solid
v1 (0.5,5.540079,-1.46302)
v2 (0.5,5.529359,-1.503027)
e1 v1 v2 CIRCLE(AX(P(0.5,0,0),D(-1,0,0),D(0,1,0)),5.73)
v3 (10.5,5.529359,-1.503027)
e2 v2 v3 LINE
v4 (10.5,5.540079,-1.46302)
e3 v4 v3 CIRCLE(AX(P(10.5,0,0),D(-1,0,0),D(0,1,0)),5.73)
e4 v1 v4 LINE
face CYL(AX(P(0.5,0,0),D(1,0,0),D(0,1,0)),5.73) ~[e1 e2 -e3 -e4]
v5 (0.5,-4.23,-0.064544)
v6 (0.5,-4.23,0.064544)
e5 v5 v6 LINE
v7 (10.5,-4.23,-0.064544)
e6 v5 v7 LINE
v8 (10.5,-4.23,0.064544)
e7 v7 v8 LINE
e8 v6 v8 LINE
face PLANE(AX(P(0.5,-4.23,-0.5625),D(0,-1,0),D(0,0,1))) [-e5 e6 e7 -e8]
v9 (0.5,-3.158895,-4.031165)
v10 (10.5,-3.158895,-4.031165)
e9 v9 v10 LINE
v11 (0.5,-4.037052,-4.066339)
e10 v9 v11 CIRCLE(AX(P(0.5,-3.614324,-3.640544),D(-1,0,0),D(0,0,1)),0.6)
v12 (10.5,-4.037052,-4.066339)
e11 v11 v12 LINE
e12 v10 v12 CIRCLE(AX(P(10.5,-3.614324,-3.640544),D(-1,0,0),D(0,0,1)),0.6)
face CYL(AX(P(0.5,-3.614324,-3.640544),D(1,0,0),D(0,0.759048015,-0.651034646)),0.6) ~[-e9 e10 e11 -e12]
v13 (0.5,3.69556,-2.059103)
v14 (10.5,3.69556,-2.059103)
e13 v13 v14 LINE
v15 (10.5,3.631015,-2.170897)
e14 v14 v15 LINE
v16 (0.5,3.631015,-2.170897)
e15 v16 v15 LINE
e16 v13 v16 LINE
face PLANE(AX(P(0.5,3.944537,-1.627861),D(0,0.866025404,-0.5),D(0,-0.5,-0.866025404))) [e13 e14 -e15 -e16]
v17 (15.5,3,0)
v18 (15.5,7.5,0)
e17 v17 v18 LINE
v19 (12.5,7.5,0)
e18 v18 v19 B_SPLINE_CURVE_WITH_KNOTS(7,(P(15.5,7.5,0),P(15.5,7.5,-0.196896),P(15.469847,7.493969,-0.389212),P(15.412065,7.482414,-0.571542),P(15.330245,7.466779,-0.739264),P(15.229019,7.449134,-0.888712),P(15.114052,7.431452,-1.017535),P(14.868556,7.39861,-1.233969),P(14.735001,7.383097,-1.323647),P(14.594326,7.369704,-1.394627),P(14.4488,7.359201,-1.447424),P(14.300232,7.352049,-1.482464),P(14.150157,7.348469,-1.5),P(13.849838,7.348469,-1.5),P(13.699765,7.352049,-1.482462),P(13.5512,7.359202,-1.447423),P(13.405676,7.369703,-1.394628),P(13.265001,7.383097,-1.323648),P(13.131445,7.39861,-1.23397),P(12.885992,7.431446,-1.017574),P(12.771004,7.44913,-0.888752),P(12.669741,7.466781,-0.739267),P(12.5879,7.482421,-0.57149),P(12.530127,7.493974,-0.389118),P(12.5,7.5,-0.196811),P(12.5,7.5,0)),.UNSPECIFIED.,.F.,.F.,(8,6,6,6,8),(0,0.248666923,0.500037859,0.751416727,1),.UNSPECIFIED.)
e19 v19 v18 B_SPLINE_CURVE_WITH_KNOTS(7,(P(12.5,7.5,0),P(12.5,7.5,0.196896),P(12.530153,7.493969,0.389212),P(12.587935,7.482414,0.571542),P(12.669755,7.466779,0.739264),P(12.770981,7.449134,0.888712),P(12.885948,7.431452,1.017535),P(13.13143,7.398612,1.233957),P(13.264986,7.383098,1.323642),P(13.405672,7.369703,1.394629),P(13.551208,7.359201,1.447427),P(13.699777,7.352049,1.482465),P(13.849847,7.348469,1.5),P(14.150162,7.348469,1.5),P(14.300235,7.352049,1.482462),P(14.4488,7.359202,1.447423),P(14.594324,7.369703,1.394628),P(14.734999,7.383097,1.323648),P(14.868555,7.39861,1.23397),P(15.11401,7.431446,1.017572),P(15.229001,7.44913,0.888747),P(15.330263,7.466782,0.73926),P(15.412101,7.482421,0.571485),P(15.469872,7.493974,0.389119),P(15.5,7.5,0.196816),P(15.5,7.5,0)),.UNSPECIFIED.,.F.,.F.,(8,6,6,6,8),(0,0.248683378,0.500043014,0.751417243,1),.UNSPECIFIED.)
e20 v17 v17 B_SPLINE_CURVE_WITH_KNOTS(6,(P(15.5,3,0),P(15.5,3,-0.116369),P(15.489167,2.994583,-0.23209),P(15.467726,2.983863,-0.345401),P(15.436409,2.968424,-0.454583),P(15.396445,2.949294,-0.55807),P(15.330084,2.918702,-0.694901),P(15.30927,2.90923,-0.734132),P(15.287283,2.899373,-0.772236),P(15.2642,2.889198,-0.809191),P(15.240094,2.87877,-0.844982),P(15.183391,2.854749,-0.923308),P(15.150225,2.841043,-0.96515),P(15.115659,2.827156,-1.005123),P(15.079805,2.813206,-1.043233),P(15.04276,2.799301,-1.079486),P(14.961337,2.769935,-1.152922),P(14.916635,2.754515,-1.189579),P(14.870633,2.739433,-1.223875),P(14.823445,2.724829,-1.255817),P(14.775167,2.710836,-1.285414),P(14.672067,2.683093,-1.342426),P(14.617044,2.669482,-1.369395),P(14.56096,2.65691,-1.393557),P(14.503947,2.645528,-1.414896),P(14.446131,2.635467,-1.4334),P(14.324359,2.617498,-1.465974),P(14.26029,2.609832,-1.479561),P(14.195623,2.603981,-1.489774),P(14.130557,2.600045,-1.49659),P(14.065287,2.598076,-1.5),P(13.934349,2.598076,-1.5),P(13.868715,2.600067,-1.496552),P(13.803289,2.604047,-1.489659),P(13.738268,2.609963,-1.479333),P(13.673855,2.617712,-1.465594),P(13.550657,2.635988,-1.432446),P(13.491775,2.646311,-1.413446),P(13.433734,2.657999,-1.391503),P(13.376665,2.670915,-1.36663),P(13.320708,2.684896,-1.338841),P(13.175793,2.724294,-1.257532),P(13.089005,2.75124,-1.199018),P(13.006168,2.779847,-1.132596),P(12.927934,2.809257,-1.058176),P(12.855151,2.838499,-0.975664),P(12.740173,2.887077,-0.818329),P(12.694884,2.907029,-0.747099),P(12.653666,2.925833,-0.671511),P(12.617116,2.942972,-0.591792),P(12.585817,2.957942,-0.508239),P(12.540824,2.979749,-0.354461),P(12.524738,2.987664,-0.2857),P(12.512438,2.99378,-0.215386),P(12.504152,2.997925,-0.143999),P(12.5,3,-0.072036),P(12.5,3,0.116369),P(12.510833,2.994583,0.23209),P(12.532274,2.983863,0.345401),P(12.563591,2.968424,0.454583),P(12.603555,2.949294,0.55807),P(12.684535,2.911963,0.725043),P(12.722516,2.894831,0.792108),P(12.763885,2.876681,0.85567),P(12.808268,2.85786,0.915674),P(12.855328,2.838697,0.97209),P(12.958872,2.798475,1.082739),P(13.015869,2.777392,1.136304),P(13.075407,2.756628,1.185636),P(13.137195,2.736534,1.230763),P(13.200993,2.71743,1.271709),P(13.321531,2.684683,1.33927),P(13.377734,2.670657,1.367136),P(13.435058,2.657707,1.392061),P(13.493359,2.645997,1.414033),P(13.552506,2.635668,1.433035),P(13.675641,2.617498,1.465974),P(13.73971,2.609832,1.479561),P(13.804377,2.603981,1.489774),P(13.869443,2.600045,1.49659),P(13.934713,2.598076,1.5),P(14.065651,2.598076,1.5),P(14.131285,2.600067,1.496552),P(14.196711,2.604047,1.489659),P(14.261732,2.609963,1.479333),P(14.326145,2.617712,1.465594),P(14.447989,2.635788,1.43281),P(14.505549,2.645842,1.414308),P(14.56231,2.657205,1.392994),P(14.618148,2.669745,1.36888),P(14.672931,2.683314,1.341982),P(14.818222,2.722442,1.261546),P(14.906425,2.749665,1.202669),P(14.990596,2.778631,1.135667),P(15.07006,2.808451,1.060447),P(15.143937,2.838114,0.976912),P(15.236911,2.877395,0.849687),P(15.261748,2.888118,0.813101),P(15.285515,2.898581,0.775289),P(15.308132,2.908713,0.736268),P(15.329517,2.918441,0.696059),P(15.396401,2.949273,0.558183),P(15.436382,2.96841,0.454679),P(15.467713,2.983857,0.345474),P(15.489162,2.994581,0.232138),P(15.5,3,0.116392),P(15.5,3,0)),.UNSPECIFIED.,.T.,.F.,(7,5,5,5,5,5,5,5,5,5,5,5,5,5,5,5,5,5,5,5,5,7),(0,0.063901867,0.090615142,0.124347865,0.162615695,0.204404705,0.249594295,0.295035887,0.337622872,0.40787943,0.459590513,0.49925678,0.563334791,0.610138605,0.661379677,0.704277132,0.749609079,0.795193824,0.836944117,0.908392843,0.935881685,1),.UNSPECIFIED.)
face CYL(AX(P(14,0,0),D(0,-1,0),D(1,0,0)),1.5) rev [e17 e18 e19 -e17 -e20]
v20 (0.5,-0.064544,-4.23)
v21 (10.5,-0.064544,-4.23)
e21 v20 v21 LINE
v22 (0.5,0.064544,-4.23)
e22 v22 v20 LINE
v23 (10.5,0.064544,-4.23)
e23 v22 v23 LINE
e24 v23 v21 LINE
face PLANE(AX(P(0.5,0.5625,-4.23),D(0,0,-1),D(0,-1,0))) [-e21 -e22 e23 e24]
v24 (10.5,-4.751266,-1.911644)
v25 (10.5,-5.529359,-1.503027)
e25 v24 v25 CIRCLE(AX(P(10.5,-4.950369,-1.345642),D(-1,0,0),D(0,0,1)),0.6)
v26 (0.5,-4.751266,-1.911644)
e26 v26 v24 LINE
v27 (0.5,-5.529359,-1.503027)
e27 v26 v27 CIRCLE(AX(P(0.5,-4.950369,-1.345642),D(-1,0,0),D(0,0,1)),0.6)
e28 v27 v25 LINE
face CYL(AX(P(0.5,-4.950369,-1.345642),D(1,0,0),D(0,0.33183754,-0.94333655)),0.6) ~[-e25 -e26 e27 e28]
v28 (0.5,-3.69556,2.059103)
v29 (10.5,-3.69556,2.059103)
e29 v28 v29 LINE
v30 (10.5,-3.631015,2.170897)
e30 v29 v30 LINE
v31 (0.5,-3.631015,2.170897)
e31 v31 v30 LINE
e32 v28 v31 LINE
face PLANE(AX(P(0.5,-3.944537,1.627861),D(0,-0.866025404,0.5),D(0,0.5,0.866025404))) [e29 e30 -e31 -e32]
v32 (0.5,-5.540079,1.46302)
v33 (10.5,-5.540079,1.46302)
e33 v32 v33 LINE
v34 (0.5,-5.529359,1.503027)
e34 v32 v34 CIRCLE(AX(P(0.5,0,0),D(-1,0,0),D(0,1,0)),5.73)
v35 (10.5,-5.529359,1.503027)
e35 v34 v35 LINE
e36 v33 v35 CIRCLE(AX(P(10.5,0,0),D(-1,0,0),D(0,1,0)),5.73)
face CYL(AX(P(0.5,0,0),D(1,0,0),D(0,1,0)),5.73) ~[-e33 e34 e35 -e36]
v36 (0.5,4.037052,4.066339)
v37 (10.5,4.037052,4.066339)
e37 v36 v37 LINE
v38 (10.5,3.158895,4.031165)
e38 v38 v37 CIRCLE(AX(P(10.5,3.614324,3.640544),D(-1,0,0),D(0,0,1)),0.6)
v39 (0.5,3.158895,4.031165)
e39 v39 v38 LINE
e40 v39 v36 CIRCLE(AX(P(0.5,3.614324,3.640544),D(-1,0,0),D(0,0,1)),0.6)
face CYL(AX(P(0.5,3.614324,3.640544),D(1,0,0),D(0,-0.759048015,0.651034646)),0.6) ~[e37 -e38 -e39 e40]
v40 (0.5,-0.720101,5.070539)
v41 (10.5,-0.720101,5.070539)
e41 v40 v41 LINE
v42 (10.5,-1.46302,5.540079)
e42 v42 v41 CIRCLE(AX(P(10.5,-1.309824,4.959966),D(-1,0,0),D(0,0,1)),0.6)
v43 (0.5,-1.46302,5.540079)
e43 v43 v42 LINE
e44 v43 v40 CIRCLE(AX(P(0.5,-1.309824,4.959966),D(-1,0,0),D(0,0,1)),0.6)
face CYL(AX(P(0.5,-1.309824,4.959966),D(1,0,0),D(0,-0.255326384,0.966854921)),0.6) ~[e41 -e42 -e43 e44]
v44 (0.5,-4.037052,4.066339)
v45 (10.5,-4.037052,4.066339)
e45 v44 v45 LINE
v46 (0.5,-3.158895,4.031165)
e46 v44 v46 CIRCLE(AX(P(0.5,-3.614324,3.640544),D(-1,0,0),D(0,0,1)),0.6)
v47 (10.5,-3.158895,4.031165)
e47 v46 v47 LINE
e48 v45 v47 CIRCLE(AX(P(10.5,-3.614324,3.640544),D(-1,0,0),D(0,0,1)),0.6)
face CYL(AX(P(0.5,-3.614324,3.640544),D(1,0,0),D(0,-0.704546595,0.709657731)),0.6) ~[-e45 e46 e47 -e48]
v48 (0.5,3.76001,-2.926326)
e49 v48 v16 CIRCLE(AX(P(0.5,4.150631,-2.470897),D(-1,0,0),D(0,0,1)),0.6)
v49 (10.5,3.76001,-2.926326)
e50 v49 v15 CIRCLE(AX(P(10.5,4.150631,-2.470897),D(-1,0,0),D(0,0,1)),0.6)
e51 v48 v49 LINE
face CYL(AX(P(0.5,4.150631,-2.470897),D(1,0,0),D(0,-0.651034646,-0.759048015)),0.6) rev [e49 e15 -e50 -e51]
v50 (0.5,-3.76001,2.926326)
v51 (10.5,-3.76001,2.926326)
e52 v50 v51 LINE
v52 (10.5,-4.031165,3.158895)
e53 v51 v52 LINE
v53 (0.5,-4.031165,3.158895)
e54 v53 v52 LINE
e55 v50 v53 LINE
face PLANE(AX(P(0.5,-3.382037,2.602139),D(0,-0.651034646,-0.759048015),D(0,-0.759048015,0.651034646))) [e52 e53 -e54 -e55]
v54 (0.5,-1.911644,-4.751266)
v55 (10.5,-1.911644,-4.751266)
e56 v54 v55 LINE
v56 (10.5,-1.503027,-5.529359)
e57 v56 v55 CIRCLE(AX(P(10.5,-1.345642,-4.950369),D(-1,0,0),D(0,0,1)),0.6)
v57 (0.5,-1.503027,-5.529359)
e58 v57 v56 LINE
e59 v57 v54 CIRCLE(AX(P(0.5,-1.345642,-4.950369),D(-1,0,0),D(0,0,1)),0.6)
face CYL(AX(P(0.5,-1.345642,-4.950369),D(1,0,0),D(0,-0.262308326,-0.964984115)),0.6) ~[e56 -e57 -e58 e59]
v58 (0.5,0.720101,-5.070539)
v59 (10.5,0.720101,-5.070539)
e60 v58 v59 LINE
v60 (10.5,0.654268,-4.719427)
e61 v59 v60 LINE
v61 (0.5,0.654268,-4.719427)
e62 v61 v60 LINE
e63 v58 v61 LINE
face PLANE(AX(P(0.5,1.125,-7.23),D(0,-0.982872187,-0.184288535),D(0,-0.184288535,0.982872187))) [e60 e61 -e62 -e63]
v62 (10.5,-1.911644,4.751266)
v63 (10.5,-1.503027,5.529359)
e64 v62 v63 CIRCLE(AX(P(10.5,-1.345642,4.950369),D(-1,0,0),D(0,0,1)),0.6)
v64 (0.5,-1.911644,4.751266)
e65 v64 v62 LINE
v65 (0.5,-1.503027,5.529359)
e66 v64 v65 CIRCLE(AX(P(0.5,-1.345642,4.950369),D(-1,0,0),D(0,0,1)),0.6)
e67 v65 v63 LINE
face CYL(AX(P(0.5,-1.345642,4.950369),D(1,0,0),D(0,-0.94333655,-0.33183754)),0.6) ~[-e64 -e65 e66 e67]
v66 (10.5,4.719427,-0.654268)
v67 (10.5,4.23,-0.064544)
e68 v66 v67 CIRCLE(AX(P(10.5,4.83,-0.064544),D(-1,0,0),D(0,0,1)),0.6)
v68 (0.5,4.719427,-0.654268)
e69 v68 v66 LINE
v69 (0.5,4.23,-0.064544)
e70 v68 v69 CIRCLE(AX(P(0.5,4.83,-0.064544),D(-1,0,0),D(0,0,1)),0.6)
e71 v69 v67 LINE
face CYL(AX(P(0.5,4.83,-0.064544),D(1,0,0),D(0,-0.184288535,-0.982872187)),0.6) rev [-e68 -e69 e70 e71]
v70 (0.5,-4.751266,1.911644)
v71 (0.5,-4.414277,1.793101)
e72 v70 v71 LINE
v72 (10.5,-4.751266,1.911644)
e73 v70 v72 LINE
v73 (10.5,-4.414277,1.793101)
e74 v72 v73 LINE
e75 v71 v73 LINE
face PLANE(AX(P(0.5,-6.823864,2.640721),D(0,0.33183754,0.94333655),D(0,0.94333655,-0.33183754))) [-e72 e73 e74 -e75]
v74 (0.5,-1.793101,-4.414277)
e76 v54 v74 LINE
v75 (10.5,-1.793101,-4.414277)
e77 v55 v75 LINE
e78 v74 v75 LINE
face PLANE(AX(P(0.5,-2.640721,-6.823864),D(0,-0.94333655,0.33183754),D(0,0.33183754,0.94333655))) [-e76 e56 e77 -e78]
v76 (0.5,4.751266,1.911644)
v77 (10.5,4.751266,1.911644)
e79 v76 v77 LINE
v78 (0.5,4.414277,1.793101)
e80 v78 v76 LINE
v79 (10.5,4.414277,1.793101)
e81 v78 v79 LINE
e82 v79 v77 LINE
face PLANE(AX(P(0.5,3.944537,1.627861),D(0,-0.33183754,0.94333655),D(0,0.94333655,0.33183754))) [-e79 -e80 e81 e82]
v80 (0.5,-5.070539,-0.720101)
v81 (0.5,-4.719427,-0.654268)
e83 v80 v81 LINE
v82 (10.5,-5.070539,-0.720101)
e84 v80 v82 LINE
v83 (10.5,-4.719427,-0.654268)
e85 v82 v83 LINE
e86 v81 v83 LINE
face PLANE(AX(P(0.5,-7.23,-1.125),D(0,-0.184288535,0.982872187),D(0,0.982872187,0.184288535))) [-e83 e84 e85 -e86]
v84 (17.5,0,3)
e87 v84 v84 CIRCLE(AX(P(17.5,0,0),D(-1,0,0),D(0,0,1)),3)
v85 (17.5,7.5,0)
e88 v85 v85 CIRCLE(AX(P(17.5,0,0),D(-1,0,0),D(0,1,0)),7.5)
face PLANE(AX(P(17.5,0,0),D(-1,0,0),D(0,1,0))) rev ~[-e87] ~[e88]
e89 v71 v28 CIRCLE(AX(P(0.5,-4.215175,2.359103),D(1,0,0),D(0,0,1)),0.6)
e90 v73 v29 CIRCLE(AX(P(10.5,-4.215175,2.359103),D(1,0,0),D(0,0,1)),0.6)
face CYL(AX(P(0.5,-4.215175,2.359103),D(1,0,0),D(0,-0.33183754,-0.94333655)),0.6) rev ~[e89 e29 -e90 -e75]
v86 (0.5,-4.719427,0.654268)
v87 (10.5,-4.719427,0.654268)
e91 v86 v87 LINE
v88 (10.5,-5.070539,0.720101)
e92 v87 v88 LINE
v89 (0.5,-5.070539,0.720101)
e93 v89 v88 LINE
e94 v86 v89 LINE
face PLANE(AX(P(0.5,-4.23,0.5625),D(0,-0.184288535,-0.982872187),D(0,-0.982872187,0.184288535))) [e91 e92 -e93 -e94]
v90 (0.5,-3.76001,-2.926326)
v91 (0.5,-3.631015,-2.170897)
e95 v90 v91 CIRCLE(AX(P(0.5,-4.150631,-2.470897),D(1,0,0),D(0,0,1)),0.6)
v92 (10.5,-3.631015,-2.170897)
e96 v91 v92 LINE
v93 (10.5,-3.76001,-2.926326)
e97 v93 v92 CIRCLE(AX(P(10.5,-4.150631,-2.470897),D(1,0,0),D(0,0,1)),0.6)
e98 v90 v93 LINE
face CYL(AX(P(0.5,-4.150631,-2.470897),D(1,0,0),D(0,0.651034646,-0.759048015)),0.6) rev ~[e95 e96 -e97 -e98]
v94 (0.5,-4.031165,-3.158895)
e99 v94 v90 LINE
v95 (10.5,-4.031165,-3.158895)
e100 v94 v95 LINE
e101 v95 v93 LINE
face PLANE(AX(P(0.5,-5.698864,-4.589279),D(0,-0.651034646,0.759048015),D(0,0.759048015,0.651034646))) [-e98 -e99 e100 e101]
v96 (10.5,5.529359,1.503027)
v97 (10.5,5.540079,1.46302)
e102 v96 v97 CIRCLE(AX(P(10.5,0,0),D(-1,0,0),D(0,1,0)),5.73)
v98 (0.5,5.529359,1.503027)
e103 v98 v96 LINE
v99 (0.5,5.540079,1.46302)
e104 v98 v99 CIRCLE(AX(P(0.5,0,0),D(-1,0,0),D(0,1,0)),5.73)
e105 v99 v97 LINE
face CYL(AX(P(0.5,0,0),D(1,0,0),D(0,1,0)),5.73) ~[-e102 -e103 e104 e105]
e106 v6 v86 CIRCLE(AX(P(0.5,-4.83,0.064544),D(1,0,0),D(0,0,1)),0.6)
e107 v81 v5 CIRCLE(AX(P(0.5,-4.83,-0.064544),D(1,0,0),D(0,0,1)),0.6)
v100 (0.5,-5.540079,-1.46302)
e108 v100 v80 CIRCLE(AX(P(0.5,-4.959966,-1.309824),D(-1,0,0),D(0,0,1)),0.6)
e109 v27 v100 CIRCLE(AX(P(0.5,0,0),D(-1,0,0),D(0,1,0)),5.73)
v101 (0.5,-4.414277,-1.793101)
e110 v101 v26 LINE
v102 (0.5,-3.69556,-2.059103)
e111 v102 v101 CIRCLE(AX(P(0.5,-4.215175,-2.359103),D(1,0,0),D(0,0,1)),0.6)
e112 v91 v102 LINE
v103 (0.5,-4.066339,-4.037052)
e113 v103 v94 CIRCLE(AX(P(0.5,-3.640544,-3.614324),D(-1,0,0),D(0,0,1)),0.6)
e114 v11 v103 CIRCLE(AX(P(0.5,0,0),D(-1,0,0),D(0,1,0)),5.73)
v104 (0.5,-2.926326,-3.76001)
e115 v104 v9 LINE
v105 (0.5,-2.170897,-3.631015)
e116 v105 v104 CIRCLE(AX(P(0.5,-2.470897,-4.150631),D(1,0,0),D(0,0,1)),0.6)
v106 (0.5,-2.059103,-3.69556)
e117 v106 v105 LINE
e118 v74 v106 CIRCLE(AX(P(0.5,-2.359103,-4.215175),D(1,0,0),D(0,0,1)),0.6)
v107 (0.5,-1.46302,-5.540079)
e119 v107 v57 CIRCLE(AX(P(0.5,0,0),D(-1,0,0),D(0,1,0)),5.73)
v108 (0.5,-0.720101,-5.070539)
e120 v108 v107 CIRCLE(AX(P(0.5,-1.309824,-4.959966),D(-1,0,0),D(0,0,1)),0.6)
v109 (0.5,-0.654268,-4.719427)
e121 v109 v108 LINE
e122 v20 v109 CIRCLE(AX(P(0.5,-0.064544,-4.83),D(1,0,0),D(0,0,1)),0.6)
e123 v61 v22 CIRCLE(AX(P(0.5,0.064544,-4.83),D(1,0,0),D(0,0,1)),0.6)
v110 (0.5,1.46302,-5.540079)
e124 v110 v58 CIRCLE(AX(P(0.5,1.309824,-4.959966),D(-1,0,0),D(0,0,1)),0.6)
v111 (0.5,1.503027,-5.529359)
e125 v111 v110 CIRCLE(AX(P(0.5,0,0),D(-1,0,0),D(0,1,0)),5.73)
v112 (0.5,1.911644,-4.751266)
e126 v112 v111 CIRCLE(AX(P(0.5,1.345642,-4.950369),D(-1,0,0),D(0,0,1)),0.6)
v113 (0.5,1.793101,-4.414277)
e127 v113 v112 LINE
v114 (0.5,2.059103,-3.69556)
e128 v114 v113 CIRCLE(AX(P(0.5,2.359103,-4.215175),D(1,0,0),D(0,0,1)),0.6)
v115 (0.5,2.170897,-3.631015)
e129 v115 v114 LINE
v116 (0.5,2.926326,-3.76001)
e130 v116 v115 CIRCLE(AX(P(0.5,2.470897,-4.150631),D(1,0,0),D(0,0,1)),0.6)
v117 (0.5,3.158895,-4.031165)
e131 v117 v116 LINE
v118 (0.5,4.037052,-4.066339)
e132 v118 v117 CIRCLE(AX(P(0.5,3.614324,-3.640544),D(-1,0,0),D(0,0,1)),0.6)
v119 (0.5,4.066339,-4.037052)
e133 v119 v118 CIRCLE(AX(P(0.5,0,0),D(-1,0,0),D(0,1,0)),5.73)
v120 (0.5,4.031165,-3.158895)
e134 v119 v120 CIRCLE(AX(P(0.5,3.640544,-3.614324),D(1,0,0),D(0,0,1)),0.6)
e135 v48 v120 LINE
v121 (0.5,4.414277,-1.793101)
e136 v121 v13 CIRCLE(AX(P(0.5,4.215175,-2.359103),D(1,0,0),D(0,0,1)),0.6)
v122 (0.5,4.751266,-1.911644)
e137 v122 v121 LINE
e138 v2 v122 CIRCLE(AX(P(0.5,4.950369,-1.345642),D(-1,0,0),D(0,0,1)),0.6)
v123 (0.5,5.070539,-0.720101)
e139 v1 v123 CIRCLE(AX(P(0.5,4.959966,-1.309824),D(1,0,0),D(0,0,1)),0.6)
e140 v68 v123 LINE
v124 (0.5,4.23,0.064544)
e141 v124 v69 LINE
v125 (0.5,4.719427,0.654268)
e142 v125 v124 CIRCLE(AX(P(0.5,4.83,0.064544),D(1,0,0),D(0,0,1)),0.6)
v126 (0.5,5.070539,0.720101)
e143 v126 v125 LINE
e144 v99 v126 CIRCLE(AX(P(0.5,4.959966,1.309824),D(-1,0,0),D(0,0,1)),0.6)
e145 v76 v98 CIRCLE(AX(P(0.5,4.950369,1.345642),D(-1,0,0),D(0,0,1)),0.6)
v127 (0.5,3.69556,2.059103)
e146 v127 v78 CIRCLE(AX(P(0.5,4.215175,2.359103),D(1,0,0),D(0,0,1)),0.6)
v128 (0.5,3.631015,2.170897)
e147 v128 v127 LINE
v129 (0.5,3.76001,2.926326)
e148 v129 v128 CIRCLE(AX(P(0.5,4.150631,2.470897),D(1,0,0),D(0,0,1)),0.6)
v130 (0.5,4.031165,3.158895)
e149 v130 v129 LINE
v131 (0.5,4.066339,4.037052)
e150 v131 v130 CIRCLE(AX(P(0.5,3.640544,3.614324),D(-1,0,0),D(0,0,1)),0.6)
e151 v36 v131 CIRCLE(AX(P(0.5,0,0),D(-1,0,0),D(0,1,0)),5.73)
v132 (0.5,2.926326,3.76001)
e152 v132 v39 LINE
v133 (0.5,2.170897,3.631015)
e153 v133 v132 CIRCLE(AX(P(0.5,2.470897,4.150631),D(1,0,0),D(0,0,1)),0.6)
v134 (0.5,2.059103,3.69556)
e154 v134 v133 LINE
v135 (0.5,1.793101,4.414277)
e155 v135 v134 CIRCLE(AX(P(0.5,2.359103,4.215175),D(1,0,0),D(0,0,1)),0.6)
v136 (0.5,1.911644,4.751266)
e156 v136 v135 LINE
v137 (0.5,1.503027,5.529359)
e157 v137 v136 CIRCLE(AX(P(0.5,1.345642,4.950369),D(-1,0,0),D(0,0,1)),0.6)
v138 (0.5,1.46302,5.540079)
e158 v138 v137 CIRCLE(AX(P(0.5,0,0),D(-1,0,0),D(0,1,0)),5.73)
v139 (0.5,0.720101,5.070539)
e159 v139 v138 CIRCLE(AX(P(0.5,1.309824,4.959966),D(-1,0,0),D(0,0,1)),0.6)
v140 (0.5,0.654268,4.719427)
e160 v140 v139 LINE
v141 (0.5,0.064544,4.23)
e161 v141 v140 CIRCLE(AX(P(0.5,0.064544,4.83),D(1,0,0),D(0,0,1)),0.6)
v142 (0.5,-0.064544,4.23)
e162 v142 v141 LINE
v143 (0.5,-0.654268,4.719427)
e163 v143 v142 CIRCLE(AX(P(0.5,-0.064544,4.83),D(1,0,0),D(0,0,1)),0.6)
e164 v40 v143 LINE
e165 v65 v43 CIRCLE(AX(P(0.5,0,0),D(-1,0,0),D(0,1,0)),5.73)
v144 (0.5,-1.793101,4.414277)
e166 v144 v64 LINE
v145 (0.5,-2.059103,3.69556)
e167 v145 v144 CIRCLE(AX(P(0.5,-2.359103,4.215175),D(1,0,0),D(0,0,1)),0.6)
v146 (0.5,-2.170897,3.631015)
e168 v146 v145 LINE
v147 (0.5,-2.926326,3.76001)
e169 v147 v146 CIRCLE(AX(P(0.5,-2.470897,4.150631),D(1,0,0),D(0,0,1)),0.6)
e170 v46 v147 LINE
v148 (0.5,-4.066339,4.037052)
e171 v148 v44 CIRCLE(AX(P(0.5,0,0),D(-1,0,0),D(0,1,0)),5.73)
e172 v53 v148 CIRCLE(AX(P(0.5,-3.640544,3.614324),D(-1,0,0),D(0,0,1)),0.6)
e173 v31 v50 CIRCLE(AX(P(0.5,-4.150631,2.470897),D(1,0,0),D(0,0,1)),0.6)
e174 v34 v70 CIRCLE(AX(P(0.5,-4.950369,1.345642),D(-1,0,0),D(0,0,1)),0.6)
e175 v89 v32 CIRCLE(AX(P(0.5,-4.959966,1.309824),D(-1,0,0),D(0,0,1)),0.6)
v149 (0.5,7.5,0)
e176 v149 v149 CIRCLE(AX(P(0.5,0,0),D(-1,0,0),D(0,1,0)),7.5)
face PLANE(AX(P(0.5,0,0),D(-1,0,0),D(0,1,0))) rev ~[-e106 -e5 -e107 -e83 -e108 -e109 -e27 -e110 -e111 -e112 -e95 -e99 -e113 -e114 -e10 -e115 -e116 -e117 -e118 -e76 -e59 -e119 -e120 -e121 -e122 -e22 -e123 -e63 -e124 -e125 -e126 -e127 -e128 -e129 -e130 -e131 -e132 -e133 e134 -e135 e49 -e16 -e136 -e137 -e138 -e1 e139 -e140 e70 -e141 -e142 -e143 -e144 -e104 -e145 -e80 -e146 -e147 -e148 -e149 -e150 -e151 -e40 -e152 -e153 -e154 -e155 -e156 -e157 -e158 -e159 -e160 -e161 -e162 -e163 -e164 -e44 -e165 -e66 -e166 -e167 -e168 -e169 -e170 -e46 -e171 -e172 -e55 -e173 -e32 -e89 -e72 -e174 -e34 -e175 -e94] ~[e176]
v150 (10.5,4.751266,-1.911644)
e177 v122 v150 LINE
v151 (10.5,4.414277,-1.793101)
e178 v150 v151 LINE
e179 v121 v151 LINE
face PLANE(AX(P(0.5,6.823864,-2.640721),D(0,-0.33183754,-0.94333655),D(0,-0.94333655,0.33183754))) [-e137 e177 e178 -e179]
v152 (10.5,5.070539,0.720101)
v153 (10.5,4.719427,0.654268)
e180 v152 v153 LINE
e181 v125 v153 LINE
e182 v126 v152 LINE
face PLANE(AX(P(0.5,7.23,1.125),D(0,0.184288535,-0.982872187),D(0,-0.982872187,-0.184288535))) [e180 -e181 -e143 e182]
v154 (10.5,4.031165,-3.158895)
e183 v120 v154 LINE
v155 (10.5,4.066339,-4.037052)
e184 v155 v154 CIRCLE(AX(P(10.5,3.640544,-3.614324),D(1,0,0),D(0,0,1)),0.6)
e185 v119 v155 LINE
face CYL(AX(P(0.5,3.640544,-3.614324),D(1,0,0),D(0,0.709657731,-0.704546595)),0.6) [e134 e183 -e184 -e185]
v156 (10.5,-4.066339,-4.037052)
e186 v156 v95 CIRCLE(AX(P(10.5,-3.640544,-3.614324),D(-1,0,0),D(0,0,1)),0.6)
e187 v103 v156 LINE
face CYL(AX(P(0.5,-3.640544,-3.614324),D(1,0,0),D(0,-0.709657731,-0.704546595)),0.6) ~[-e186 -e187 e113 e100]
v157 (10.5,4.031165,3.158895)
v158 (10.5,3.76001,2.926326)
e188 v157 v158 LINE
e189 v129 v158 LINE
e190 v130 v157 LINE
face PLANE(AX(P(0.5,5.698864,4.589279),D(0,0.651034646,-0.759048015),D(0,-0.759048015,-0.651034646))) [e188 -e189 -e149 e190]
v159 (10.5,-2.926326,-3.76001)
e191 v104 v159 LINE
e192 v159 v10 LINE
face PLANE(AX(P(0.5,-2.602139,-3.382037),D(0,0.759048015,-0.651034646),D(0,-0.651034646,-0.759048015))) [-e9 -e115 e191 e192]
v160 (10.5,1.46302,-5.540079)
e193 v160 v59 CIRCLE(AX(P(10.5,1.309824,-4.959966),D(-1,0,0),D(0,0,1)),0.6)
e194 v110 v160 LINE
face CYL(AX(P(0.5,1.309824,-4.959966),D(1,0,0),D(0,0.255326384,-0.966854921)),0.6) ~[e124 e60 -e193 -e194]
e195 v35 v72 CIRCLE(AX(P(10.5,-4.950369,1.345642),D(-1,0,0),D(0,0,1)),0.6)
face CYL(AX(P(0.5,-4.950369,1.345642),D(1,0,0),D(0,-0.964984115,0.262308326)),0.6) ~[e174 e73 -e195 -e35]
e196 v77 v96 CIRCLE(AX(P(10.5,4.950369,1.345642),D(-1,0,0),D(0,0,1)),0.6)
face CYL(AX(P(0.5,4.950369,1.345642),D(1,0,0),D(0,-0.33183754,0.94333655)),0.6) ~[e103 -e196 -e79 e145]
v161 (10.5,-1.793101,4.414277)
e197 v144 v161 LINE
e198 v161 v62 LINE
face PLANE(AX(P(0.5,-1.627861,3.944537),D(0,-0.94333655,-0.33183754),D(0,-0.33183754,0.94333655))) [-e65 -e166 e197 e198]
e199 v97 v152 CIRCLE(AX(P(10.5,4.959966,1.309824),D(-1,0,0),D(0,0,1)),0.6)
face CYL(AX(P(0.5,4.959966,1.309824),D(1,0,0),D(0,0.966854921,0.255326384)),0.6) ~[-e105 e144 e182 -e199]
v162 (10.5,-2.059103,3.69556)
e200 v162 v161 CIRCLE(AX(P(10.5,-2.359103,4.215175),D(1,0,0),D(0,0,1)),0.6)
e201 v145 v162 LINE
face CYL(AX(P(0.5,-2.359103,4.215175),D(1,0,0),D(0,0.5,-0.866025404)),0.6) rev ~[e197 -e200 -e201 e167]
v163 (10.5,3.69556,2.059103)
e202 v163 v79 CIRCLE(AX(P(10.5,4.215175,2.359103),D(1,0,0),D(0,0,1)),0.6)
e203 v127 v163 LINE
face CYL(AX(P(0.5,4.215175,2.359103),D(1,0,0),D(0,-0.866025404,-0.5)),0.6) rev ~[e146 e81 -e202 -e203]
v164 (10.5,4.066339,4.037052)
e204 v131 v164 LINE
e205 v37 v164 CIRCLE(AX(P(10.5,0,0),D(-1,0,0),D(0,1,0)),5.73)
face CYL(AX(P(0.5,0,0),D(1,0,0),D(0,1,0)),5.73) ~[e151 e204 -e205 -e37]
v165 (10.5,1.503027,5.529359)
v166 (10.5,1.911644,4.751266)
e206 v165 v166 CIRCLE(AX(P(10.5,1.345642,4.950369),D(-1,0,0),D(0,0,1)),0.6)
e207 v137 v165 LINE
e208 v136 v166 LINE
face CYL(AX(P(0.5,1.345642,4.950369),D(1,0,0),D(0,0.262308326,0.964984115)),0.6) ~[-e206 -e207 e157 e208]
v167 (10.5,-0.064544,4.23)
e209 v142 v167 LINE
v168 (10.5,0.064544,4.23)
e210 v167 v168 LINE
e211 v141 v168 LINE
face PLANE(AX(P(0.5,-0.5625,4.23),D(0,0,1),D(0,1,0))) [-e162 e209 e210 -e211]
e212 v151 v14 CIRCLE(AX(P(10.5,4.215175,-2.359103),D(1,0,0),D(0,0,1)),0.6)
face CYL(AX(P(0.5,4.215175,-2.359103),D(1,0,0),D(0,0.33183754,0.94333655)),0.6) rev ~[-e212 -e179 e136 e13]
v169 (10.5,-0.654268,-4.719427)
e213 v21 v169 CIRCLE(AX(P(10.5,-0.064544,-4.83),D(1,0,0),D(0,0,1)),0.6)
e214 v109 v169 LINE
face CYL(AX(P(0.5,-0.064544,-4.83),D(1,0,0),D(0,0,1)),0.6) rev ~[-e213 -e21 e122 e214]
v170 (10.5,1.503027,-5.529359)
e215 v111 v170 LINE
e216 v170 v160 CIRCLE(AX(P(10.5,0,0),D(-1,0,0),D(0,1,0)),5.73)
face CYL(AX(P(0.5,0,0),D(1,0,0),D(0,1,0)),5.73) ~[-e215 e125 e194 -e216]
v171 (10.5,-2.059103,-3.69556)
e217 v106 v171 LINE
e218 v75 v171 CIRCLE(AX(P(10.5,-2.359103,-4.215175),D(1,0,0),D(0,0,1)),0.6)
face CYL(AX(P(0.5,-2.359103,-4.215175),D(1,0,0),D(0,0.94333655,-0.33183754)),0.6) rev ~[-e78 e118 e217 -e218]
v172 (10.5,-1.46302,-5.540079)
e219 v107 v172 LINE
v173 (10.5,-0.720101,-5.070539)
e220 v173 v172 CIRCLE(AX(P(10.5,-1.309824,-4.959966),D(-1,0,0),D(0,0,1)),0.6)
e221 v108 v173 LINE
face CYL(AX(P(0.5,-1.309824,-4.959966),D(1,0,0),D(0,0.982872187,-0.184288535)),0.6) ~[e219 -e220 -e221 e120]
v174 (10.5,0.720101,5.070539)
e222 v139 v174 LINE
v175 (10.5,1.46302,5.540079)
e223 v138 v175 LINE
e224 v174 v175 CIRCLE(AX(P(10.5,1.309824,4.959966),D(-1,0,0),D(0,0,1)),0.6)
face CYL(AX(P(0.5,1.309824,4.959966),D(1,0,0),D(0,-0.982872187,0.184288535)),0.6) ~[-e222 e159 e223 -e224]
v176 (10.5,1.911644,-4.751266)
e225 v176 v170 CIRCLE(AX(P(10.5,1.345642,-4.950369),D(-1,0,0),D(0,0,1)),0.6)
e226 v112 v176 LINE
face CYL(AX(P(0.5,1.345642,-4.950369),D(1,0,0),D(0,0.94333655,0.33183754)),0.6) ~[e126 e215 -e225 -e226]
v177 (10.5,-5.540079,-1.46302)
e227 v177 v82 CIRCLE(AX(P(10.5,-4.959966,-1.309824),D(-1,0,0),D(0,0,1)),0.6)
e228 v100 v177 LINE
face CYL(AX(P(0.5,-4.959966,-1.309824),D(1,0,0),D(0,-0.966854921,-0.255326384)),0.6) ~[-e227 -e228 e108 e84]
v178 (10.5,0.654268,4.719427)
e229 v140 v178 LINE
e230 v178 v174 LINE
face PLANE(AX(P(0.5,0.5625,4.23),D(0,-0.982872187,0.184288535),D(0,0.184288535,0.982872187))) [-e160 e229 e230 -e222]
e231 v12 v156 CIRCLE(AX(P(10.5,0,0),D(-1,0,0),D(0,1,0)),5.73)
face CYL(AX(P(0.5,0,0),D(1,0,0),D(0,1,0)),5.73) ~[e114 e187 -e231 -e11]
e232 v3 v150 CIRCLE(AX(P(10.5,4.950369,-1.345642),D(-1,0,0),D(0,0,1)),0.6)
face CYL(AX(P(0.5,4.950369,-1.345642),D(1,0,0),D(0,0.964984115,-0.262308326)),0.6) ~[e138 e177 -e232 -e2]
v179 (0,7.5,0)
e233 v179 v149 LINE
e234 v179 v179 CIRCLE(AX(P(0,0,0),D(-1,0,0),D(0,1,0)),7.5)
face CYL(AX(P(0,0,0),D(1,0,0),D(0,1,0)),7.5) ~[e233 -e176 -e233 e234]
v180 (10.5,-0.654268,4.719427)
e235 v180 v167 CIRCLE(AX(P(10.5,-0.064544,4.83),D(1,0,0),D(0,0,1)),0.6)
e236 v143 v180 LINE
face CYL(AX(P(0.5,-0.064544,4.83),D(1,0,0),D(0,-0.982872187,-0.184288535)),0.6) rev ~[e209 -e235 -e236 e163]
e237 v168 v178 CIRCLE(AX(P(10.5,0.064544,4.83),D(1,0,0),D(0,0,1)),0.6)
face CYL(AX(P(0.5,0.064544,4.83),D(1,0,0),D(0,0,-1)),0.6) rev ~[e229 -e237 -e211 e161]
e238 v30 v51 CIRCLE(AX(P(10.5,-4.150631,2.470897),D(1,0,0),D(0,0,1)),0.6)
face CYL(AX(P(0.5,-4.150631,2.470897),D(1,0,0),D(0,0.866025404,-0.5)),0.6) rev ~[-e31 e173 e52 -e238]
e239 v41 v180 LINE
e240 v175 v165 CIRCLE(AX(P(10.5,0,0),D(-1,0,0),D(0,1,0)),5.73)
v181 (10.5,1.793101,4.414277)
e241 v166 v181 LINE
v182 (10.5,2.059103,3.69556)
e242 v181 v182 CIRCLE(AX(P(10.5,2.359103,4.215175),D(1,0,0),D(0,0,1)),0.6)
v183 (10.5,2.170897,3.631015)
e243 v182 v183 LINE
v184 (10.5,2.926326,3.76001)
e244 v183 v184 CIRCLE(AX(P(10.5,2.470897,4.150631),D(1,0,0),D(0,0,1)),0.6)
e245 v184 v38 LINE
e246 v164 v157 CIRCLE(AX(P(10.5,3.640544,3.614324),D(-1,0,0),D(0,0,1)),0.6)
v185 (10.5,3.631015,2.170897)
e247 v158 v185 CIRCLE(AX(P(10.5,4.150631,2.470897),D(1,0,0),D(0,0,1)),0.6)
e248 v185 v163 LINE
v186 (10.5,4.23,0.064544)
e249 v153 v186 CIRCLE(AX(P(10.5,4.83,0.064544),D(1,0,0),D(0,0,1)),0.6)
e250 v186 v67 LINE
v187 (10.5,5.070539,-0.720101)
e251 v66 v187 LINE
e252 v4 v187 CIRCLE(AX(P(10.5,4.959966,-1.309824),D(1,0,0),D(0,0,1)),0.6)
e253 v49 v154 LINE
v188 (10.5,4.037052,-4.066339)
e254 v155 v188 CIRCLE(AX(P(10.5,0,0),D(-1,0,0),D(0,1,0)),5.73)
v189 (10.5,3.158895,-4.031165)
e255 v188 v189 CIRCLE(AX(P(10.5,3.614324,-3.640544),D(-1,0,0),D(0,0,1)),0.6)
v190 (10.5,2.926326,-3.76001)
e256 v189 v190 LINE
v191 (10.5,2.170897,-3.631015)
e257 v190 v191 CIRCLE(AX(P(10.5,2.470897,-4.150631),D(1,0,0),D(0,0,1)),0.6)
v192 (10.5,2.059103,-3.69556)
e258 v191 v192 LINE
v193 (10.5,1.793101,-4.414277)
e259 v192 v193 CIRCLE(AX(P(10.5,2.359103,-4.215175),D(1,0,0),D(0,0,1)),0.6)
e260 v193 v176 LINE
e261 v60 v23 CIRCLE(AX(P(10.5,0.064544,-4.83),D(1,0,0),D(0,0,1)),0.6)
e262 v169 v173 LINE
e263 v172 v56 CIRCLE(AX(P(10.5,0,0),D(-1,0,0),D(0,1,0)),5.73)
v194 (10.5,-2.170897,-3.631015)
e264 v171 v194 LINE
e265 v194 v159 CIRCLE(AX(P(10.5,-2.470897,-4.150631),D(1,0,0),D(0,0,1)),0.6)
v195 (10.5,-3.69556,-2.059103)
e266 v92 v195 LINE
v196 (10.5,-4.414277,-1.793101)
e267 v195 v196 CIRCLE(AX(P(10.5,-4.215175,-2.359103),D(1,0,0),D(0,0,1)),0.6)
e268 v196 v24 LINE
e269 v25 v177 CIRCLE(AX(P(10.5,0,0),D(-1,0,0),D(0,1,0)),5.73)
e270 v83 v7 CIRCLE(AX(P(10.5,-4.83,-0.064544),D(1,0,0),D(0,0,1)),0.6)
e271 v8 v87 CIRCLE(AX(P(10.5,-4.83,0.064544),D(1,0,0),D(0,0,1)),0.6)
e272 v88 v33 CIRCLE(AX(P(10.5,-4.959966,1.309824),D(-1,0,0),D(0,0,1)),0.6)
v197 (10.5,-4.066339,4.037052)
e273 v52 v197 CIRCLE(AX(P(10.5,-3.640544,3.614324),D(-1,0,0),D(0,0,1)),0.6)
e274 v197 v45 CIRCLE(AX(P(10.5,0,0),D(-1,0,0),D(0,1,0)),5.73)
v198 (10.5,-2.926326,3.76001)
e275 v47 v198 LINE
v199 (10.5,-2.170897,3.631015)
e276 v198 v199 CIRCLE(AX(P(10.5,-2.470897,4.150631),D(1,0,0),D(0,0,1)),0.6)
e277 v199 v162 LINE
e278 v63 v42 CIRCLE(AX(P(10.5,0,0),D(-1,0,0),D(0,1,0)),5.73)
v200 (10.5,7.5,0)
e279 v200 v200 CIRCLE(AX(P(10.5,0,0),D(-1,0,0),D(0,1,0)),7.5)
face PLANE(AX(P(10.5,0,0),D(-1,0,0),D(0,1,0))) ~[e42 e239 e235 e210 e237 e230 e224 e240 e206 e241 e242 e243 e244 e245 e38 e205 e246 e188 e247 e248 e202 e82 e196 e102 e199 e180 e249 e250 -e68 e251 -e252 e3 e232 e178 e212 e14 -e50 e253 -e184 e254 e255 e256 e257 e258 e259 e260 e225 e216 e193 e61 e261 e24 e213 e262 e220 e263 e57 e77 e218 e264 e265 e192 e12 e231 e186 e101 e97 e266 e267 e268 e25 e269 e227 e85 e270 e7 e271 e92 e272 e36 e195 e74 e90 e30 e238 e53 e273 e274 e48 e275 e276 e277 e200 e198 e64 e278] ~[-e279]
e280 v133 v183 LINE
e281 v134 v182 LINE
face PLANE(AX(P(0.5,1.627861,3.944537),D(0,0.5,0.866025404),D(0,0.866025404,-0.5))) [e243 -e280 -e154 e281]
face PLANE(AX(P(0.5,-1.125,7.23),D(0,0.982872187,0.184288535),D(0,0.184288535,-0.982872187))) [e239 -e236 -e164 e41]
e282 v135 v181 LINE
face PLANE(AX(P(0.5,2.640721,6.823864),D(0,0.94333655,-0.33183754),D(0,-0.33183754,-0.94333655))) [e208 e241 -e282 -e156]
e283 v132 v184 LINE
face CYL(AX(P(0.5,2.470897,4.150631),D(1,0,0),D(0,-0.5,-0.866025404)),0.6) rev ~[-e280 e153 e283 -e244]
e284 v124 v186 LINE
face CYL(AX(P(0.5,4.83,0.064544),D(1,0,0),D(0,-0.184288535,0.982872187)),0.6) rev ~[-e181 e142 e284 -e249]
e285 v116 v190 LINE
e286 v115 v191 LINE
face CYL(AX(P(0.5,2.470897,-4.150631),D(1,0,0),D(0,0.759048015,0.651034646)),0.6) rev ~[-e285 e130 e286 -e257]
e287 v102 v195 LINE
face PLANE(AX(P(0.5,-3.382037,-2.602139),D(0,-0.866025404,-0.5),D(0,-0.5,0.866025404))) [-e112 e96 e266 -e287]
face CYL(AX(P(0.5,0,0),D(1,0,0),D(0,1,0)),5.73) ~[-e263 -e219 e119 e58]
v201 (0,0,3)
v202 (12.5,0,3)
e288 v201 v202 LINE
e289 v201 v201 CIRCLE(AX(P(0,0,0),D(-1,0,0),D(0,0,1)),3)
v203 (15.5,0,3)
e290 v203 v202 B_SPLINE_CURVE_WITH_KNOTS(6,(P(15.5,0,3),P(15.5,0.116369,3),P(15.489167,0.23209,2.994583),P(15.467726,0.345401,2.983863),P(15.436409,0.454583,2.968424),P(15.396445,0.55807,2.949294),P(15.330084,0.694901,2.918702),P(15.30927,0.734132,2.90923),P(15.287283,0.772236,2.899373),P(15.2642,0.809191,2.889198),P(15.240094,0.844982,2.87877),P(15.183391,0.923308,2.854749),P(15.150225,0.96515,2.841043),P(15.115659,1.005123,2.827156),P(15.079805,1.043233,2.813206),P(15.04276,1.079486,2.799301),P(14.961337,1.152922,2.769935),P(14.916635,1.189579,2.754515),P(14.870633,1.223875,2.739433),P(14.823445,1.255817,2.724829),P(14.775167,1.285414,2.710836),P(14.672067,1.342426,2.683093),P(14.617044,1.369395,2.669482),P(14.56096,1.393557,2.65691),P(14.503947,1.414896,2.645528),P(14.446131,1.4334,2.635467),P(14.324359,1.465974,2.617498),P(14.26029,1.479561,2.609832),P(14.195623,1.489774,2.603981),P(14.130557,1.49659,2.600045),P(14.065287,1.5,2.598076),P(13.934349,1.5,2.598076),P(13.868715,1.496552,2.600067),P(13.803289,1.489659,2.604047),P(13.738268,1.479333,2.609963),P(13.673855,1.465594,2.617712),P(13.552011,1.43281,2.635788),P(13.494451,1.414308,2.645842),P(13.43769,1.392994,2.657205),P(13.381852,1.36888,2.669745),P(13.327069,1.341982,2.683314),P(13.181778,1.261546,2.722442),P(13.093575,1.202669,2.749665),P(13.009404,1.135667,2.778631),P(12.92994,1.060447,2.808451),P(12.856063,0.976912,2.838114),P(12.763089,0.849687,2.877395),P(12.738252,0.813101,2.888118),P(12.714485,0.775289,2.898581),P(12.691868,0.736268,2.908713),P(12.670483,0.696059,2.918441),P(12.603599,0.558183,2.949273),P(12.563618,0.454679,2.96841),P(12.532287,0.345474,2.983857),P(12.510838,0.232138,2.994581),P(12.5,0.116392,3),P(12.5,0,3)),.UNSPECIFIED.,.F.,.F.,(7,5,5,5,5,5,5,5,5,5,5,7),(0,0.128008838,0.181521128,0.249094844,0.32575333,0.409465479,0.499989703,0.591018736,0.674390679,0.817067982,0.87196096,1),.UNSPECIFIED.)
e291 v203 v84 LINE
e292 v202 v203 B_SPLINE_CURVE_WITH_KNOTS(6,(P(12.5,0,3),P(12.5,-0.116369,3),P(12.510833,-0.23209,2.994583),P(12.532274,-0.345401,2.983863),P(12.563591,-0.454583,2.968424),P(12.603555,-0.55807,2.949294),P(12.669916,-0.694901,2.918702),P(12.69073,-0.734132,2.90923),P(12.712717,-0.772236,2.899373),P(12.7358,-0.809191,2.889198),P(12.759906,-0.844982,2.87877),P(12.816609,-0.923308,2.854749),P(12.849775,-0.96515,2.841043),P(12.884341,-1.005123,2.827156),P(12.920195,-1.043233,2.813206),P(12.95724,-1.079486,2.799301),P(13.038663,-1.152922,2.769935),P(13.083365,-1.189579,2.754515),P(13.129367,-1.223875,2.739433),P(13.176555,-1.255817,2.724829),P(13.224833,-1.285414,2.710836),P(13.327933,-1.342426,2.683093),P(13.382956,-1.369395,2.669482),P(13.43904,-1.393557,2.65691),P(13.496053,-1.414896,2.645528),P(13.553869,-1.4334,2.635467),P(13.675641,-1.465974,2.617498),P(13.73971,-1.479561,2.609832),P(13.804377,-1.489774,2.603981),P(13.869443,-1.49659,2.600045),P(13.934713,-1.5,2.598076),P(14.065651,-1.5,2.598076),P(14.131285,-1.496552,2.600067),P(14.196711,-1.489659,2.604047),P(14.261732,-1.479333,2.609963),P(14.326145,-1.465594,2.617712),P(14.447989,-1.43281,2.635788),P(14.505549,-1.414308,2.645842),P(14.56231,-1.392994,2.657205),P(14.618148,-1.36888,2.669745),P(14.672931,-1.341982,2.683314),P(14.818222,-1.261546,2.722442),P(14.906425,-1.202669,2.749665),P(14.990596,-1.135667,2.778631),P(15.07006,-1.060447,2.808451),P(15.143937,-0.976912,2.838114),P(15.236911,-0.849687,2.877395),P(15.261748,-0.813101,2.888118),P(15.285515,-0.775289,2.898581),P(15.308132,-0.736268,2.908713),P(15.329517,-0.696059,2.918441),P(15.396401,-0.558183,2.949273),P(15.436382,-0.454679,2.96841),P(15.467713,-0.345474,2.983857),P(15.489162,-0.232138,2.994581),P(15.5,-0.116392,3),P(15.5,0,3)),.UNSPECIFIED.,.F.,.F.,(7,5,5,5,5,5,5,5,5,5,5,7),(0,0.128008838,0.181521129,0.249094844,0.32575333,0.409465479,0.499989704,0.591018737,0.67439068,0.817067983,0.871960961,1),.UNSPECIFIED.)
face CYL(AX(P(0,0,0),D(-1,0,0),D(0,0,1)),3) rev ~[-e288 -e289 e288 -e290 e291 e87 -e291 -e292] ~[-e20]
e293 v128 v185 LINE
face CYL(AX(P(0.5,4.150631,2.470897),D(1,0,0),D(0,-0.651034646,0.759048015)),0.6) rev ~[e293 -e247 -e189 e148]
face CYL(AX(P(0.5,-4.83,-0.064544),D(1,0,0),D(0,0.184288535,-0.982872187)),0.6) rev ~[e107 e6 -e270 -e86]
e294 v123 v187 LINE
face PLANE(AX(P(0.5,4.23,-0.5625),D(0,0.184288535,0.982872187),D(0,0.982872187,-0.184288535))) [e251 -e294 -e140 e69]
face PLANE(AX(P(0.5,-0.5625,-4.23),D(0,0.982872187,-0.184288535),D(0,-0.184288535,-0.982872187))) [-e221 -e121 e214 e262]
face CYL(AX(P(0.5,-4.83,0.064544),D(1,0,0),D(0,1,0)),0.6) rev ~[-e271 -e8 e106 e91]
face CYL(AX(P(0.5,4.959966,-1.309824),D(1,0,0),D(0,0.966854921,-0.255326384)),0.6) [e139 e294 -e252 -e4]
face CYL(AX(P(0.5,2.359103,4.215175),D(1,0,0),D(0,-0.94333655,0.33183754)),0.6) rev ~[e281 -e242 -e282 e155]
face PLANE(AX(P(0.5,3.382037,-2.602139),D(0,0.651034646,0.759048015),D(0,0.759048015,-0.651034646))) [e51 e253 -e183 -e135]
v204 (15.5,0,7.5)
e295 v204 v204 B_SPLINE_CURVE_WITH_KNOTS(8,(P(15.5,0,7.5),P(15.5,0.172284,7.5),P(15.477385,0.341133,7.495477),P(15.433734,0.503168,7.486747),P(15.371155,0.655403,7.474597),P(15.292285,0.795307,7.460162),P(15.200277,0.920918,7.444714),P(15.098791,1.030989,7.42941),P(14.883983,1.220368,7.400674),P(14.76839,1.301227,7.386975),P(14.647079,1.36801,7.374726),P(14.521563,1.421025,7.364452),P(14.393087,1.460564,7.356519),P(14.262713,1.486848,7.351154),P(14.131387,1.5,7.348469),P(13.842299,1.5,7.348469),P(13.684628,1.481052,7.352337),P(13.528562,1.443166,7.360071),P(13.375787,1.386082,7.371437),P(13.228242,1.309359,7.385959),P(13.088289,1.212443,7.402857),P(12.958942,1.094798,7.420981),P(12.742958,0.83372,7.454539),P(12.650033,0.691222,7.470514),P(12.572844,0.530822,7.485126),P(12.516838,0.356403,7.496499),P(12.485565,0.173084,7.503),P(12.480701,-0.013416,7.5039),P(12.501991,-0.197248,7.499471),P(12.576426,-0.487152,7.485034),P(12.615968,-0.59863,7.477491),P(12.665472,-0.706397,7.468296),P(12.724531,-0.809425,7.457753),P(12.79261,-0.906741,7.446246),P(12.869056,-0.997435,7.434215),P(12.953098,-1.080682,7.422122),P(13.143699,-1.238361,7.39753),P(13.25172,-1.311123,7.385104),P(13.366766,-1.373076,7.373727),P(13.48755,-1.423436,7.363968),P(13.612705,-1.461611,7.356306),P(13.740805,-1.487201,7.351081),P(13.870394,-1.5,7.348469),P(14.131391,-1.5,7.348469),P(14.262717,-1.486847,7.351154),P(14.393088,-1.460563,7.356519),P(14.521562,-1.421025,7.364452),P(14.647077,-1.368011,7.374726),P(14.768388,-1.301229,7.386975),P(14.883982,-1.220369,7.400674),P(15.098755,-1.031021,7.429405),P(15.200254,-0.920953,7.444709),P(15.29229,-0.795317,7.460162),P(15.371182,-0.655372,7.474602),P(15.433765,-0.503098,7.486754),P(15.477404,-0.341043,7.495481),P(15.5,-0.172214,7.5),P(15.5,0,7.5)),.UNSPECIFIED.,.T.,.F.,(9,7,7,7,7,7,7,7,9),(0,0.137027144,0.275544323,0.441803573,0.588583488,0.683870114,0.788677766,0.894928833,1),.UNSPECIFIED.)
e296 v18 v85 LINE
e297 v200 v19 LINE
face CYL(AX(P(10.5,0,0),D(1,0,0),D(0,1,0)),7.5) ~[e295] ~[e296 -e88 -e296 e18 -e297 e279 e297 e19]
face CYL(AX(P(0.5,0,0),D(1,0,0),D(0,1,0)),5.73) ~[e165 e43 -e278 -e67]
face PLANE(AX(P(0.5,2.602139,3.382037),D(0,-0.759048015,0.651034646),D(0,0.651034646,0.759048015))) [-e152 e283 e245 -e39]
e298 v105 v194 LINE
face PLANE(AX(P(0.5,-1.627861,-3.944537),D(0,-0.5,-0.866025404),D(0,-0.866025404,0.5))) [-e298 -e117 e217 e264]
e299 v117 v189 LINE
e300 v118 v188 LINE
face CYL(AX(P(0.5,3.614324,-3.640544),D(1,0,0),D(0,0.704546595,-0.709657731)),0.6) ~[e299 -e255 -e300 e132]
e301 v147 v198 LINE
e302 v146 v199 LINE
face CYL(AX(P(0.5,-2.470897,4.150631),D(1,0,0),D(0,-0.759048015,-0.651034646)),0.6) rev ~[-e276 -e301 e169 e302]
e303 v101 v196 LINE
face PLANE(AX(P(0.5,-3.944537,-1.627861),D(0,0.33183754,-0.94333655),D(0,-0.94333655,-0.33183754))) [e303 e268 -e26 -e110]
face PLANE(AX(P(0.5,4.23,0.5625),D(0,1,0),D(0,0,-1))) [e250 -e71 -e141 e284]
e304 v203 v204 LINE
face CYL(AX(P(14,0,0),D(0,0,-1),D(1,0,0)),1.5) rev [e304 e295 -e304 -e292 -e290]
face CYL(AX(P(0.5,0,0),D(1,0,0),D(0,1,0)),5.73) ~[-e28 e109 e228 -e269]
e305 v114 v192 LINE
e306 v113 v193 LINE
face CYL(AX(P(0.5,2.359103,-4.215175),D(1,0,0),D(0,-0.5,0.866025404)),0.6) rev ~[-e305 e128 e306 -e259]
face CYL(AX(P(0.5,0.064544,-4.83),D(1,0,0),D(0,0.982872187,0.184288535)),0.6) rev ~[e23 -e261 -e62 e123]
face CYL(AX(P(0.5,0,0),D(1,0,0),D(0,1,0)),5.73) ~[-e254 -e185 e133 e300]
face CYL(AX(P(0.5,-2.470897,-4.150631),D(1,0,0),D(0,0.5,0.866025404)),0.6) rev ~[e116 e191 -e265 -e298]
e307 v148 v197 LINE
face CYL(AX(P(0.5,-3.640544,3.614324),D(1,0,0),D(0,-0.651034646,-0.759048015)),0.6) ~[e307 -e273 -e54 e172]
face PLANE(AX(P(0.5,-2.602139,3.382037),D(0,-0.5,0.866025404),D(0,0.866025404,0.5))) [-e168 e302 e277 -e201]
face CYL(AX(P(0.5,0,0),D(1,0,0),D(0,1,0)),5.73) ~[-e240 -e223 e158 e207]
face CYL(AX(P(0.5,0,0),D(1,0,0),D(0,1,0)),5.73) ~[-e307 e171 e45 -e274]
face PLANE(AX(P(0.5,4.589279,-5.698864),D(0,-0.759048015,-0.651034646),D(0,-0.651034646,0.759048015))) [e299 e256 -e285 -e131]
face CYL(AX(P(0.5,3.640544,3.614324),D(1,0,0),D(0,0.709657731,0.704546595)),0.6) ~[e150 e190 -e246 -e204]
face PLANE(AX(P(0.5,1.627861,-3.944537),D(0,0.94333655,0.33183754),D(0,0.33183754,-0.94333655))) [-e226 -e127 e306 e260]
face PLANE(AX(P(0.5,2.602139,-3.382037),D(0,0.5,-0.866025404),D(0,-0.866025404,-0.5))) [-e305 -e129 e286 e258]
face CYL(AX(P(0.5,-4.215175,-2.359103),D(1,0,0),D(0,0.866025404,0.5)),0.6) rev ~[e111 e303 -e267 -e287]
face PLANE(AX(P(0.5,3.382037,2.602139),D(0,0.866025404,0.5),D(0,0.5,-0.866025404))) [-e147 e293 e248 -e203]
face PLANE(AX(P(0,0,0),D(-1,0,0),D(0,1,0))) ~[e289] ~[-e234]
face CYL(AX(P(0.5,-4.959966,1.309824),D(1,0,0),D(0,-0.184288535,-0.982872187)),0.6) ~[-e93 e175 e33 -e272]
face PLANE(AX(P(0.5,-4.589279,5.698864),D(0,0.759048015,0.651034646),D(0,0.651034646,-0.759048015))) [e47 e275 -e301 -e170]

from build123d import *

# Parameters (mm, degrees)
SKETCH3_R                = 3
CUT_EXTRUDE1_DEPTH       = 18.5
SKETCH5_R                = 1.5
CUT_EXTRUDE3_DEPTH       = 10
CIRPATTERN1_COUNT        = 2
CIRPATTERN1_ANGLE        = 90
CUT_EXTRUDE2_DEPTH       = 10
FILLET1_R                = 0.6
CIRPATTERN2_COUNT        = 12
FILLET1_OF_CIRPATTERN2_R = 0.6


with BuildPart() as part:
    # Sketch2 → Revolve1 (revolve)
    with BuildSketch(Plane.XY):
        Polygon((0, 0), (0, 7.5), (0.5, 7.5), (0.5, 5.73), (10.5, 5.73), (10.5, 7.5), (17.5, 7.5), (17.5, 0), align=None)
    revolve(axis=Axis((19.21222629, 0, 0), (-1, 0, 0)))

    # Sketch3 → Cut-Extrude1 (cut, through all)
    with BuildSketch(Plane.ZY):
        Circle(SKETCH3_R)
    extrude(amount=-CUT_EXTRUDE1_DEPTH, mode=Mode.SUBTRACT)

    # Sketch5 → Cut-Extrude3 (cut)
    with BuildSketch(Plane(origin=(0, 0, 0), x_dir=(1, 0, 0), z_dir=(0, 1, 0))):
        with Locations((14, 0)):
            Circle(SKETCH5_R)
    cut_extrude3 = extrude(amount=CUT_EXTRUDE3_DEPTH, mode=Mode.SUBTRACT)

    # CirPattern1: Cut-Extrude3 ×2 about axis
    cirpattern1_axis = Axis((19.21222629, 0, 0), (1, 0, 0))
    for i in range(1, CIRPATTERN1_COUNT):
        add(cut_extrude3.rotate(cirpattern1_axis, i * CIRPATTERN1_ANGLE / (CIRPATTERN1_COUNT - 1)), mode=Mode.SUBTRACT)

    # Sketch4 → Cut-Extrude2 (cut)
    with BuildSketch(Plane(origin=(0.5, 0, 0), x_dir=(0, 0, -1), z_dir=(1, 0, 0))):
        Polygon((1.125, 7.23), (-1.125, 7.23), (-0.5625, 4.23), (0.5625, 4.23), align=None)
    cut_extrude2 = extrude(amount=CUT_EXTRUDE2_DEPTH, mode=Mode.SUBTRACT)

    # Fillet1
    fillet1_edges = [part.edges().sort_by_distance(p)[0] for p in [
        (5.5, 5.669222732, -0.832354262),
        (5.5, 4.23, -0.5625),
        (5.5, 5.669222732, 0.832354262),
        (5.5, 4.23, 0.5625),
    ]]
    fillet(fillet1_edges, radius=FILLET1_R)

    # CirPattern2: Cut-Extrude2 ×12 about axis
    cirpattern2_axis = Axis((0, 0, 0), (1, 0, 0))
    for i in range(1, CIRPATTERN2_COUNT):
        add(cut_extrude2.rotate(cirpattern2_axis, i * 360 / CIRPATTERN2_COUNT), mode=Mode.SUBTRACT)

    # Fillet1 of CirPattern2
    fillet1_of_cirpattern2_edges = [part.edges().sort_by_distance(p)[0] for p in [
        (5.5, 5.325868037, 2.11377143),
        (5.5, 3.944537458, 1.62786071),
        (5.5, 4.493513774, 3.555451302),
        (5.5, 3.382037458, 2.60213929),
        (5.5, 3.555451302, 4.493513774),
        (5.5, 2.60213929, 3.382037458),
        (5.5, 2.11377143, 5.325868037),
        (5.5, 1.62786071, 3.944537458),
        (5.5, 0.832354262, 5.669222732),
        (5.5, 0.5625, 4.23),
        (5.5, -0.832354262, 5.669222732),
        (5.5, -0.5625, 4.23),
        (5.5, -2.11377143, 5.325868037),
        (5.5, -1.62786071, 3.944537458),
        (5.5, -3.555451302, 4.493513774),
        (5.5, -2.60213929, 3.382037458),
        (5.5, -4.493513774, 3.555451302),
        (5.5, -3.382037458, 2.60213929),
        (5.5, -5.325868037, 2.11377143),
        (5.5, -3.944537458, 1.62786071),
        (5.5, -5.669222732, 0.832354262),
        (5.5, -4.23, 0.5625),
        (5.5, -5.669222732, -0.832354262),
        (5.5, -4.23, -0.5625),
        (5.5, -5.325868037, -2.11377143),
        (5.5, -3.944537458, -1.62786071),
        (5.5, -4.493513774, -3.555451302),
        (5.5, -3.382037458, -2.60213929),
        (5.5, -3.555451302, -4.493513774),
        (5.5, -2.60213929, -3.382037458),
        (5.5, -2.11377143, -5.325868037),
        (5.5, -1.62786071, -3.944537458),
        (5.5, -0.832354262, -5.669222732),
        (5.5, -0.5625, -4.23),
        (5.5, 0.832354262, -5.669222732),
        (5.5, 0.5625, -4.23),
        (5.5, 2.11377143, -5.325868037),
        (5.5, 1.62786071, -3.944537458),
        (5.5, 3.555451302, -4.493513774),
        (5.5, 2.60213929, -3.382037458),
        (5.5, 4.493513774, -3.555451302),
        (5.5, 3.382037458, -2.60213929),
        (5.5, 5.325868037, -2.11377143),
        (5.5, 3.944537458, -1.62786071),
    ]]
    fillet(fillet1_of_cirpattern2_edges, radius=FILLET1_OF_CIRPATTERN2_R)


solid = part.part
